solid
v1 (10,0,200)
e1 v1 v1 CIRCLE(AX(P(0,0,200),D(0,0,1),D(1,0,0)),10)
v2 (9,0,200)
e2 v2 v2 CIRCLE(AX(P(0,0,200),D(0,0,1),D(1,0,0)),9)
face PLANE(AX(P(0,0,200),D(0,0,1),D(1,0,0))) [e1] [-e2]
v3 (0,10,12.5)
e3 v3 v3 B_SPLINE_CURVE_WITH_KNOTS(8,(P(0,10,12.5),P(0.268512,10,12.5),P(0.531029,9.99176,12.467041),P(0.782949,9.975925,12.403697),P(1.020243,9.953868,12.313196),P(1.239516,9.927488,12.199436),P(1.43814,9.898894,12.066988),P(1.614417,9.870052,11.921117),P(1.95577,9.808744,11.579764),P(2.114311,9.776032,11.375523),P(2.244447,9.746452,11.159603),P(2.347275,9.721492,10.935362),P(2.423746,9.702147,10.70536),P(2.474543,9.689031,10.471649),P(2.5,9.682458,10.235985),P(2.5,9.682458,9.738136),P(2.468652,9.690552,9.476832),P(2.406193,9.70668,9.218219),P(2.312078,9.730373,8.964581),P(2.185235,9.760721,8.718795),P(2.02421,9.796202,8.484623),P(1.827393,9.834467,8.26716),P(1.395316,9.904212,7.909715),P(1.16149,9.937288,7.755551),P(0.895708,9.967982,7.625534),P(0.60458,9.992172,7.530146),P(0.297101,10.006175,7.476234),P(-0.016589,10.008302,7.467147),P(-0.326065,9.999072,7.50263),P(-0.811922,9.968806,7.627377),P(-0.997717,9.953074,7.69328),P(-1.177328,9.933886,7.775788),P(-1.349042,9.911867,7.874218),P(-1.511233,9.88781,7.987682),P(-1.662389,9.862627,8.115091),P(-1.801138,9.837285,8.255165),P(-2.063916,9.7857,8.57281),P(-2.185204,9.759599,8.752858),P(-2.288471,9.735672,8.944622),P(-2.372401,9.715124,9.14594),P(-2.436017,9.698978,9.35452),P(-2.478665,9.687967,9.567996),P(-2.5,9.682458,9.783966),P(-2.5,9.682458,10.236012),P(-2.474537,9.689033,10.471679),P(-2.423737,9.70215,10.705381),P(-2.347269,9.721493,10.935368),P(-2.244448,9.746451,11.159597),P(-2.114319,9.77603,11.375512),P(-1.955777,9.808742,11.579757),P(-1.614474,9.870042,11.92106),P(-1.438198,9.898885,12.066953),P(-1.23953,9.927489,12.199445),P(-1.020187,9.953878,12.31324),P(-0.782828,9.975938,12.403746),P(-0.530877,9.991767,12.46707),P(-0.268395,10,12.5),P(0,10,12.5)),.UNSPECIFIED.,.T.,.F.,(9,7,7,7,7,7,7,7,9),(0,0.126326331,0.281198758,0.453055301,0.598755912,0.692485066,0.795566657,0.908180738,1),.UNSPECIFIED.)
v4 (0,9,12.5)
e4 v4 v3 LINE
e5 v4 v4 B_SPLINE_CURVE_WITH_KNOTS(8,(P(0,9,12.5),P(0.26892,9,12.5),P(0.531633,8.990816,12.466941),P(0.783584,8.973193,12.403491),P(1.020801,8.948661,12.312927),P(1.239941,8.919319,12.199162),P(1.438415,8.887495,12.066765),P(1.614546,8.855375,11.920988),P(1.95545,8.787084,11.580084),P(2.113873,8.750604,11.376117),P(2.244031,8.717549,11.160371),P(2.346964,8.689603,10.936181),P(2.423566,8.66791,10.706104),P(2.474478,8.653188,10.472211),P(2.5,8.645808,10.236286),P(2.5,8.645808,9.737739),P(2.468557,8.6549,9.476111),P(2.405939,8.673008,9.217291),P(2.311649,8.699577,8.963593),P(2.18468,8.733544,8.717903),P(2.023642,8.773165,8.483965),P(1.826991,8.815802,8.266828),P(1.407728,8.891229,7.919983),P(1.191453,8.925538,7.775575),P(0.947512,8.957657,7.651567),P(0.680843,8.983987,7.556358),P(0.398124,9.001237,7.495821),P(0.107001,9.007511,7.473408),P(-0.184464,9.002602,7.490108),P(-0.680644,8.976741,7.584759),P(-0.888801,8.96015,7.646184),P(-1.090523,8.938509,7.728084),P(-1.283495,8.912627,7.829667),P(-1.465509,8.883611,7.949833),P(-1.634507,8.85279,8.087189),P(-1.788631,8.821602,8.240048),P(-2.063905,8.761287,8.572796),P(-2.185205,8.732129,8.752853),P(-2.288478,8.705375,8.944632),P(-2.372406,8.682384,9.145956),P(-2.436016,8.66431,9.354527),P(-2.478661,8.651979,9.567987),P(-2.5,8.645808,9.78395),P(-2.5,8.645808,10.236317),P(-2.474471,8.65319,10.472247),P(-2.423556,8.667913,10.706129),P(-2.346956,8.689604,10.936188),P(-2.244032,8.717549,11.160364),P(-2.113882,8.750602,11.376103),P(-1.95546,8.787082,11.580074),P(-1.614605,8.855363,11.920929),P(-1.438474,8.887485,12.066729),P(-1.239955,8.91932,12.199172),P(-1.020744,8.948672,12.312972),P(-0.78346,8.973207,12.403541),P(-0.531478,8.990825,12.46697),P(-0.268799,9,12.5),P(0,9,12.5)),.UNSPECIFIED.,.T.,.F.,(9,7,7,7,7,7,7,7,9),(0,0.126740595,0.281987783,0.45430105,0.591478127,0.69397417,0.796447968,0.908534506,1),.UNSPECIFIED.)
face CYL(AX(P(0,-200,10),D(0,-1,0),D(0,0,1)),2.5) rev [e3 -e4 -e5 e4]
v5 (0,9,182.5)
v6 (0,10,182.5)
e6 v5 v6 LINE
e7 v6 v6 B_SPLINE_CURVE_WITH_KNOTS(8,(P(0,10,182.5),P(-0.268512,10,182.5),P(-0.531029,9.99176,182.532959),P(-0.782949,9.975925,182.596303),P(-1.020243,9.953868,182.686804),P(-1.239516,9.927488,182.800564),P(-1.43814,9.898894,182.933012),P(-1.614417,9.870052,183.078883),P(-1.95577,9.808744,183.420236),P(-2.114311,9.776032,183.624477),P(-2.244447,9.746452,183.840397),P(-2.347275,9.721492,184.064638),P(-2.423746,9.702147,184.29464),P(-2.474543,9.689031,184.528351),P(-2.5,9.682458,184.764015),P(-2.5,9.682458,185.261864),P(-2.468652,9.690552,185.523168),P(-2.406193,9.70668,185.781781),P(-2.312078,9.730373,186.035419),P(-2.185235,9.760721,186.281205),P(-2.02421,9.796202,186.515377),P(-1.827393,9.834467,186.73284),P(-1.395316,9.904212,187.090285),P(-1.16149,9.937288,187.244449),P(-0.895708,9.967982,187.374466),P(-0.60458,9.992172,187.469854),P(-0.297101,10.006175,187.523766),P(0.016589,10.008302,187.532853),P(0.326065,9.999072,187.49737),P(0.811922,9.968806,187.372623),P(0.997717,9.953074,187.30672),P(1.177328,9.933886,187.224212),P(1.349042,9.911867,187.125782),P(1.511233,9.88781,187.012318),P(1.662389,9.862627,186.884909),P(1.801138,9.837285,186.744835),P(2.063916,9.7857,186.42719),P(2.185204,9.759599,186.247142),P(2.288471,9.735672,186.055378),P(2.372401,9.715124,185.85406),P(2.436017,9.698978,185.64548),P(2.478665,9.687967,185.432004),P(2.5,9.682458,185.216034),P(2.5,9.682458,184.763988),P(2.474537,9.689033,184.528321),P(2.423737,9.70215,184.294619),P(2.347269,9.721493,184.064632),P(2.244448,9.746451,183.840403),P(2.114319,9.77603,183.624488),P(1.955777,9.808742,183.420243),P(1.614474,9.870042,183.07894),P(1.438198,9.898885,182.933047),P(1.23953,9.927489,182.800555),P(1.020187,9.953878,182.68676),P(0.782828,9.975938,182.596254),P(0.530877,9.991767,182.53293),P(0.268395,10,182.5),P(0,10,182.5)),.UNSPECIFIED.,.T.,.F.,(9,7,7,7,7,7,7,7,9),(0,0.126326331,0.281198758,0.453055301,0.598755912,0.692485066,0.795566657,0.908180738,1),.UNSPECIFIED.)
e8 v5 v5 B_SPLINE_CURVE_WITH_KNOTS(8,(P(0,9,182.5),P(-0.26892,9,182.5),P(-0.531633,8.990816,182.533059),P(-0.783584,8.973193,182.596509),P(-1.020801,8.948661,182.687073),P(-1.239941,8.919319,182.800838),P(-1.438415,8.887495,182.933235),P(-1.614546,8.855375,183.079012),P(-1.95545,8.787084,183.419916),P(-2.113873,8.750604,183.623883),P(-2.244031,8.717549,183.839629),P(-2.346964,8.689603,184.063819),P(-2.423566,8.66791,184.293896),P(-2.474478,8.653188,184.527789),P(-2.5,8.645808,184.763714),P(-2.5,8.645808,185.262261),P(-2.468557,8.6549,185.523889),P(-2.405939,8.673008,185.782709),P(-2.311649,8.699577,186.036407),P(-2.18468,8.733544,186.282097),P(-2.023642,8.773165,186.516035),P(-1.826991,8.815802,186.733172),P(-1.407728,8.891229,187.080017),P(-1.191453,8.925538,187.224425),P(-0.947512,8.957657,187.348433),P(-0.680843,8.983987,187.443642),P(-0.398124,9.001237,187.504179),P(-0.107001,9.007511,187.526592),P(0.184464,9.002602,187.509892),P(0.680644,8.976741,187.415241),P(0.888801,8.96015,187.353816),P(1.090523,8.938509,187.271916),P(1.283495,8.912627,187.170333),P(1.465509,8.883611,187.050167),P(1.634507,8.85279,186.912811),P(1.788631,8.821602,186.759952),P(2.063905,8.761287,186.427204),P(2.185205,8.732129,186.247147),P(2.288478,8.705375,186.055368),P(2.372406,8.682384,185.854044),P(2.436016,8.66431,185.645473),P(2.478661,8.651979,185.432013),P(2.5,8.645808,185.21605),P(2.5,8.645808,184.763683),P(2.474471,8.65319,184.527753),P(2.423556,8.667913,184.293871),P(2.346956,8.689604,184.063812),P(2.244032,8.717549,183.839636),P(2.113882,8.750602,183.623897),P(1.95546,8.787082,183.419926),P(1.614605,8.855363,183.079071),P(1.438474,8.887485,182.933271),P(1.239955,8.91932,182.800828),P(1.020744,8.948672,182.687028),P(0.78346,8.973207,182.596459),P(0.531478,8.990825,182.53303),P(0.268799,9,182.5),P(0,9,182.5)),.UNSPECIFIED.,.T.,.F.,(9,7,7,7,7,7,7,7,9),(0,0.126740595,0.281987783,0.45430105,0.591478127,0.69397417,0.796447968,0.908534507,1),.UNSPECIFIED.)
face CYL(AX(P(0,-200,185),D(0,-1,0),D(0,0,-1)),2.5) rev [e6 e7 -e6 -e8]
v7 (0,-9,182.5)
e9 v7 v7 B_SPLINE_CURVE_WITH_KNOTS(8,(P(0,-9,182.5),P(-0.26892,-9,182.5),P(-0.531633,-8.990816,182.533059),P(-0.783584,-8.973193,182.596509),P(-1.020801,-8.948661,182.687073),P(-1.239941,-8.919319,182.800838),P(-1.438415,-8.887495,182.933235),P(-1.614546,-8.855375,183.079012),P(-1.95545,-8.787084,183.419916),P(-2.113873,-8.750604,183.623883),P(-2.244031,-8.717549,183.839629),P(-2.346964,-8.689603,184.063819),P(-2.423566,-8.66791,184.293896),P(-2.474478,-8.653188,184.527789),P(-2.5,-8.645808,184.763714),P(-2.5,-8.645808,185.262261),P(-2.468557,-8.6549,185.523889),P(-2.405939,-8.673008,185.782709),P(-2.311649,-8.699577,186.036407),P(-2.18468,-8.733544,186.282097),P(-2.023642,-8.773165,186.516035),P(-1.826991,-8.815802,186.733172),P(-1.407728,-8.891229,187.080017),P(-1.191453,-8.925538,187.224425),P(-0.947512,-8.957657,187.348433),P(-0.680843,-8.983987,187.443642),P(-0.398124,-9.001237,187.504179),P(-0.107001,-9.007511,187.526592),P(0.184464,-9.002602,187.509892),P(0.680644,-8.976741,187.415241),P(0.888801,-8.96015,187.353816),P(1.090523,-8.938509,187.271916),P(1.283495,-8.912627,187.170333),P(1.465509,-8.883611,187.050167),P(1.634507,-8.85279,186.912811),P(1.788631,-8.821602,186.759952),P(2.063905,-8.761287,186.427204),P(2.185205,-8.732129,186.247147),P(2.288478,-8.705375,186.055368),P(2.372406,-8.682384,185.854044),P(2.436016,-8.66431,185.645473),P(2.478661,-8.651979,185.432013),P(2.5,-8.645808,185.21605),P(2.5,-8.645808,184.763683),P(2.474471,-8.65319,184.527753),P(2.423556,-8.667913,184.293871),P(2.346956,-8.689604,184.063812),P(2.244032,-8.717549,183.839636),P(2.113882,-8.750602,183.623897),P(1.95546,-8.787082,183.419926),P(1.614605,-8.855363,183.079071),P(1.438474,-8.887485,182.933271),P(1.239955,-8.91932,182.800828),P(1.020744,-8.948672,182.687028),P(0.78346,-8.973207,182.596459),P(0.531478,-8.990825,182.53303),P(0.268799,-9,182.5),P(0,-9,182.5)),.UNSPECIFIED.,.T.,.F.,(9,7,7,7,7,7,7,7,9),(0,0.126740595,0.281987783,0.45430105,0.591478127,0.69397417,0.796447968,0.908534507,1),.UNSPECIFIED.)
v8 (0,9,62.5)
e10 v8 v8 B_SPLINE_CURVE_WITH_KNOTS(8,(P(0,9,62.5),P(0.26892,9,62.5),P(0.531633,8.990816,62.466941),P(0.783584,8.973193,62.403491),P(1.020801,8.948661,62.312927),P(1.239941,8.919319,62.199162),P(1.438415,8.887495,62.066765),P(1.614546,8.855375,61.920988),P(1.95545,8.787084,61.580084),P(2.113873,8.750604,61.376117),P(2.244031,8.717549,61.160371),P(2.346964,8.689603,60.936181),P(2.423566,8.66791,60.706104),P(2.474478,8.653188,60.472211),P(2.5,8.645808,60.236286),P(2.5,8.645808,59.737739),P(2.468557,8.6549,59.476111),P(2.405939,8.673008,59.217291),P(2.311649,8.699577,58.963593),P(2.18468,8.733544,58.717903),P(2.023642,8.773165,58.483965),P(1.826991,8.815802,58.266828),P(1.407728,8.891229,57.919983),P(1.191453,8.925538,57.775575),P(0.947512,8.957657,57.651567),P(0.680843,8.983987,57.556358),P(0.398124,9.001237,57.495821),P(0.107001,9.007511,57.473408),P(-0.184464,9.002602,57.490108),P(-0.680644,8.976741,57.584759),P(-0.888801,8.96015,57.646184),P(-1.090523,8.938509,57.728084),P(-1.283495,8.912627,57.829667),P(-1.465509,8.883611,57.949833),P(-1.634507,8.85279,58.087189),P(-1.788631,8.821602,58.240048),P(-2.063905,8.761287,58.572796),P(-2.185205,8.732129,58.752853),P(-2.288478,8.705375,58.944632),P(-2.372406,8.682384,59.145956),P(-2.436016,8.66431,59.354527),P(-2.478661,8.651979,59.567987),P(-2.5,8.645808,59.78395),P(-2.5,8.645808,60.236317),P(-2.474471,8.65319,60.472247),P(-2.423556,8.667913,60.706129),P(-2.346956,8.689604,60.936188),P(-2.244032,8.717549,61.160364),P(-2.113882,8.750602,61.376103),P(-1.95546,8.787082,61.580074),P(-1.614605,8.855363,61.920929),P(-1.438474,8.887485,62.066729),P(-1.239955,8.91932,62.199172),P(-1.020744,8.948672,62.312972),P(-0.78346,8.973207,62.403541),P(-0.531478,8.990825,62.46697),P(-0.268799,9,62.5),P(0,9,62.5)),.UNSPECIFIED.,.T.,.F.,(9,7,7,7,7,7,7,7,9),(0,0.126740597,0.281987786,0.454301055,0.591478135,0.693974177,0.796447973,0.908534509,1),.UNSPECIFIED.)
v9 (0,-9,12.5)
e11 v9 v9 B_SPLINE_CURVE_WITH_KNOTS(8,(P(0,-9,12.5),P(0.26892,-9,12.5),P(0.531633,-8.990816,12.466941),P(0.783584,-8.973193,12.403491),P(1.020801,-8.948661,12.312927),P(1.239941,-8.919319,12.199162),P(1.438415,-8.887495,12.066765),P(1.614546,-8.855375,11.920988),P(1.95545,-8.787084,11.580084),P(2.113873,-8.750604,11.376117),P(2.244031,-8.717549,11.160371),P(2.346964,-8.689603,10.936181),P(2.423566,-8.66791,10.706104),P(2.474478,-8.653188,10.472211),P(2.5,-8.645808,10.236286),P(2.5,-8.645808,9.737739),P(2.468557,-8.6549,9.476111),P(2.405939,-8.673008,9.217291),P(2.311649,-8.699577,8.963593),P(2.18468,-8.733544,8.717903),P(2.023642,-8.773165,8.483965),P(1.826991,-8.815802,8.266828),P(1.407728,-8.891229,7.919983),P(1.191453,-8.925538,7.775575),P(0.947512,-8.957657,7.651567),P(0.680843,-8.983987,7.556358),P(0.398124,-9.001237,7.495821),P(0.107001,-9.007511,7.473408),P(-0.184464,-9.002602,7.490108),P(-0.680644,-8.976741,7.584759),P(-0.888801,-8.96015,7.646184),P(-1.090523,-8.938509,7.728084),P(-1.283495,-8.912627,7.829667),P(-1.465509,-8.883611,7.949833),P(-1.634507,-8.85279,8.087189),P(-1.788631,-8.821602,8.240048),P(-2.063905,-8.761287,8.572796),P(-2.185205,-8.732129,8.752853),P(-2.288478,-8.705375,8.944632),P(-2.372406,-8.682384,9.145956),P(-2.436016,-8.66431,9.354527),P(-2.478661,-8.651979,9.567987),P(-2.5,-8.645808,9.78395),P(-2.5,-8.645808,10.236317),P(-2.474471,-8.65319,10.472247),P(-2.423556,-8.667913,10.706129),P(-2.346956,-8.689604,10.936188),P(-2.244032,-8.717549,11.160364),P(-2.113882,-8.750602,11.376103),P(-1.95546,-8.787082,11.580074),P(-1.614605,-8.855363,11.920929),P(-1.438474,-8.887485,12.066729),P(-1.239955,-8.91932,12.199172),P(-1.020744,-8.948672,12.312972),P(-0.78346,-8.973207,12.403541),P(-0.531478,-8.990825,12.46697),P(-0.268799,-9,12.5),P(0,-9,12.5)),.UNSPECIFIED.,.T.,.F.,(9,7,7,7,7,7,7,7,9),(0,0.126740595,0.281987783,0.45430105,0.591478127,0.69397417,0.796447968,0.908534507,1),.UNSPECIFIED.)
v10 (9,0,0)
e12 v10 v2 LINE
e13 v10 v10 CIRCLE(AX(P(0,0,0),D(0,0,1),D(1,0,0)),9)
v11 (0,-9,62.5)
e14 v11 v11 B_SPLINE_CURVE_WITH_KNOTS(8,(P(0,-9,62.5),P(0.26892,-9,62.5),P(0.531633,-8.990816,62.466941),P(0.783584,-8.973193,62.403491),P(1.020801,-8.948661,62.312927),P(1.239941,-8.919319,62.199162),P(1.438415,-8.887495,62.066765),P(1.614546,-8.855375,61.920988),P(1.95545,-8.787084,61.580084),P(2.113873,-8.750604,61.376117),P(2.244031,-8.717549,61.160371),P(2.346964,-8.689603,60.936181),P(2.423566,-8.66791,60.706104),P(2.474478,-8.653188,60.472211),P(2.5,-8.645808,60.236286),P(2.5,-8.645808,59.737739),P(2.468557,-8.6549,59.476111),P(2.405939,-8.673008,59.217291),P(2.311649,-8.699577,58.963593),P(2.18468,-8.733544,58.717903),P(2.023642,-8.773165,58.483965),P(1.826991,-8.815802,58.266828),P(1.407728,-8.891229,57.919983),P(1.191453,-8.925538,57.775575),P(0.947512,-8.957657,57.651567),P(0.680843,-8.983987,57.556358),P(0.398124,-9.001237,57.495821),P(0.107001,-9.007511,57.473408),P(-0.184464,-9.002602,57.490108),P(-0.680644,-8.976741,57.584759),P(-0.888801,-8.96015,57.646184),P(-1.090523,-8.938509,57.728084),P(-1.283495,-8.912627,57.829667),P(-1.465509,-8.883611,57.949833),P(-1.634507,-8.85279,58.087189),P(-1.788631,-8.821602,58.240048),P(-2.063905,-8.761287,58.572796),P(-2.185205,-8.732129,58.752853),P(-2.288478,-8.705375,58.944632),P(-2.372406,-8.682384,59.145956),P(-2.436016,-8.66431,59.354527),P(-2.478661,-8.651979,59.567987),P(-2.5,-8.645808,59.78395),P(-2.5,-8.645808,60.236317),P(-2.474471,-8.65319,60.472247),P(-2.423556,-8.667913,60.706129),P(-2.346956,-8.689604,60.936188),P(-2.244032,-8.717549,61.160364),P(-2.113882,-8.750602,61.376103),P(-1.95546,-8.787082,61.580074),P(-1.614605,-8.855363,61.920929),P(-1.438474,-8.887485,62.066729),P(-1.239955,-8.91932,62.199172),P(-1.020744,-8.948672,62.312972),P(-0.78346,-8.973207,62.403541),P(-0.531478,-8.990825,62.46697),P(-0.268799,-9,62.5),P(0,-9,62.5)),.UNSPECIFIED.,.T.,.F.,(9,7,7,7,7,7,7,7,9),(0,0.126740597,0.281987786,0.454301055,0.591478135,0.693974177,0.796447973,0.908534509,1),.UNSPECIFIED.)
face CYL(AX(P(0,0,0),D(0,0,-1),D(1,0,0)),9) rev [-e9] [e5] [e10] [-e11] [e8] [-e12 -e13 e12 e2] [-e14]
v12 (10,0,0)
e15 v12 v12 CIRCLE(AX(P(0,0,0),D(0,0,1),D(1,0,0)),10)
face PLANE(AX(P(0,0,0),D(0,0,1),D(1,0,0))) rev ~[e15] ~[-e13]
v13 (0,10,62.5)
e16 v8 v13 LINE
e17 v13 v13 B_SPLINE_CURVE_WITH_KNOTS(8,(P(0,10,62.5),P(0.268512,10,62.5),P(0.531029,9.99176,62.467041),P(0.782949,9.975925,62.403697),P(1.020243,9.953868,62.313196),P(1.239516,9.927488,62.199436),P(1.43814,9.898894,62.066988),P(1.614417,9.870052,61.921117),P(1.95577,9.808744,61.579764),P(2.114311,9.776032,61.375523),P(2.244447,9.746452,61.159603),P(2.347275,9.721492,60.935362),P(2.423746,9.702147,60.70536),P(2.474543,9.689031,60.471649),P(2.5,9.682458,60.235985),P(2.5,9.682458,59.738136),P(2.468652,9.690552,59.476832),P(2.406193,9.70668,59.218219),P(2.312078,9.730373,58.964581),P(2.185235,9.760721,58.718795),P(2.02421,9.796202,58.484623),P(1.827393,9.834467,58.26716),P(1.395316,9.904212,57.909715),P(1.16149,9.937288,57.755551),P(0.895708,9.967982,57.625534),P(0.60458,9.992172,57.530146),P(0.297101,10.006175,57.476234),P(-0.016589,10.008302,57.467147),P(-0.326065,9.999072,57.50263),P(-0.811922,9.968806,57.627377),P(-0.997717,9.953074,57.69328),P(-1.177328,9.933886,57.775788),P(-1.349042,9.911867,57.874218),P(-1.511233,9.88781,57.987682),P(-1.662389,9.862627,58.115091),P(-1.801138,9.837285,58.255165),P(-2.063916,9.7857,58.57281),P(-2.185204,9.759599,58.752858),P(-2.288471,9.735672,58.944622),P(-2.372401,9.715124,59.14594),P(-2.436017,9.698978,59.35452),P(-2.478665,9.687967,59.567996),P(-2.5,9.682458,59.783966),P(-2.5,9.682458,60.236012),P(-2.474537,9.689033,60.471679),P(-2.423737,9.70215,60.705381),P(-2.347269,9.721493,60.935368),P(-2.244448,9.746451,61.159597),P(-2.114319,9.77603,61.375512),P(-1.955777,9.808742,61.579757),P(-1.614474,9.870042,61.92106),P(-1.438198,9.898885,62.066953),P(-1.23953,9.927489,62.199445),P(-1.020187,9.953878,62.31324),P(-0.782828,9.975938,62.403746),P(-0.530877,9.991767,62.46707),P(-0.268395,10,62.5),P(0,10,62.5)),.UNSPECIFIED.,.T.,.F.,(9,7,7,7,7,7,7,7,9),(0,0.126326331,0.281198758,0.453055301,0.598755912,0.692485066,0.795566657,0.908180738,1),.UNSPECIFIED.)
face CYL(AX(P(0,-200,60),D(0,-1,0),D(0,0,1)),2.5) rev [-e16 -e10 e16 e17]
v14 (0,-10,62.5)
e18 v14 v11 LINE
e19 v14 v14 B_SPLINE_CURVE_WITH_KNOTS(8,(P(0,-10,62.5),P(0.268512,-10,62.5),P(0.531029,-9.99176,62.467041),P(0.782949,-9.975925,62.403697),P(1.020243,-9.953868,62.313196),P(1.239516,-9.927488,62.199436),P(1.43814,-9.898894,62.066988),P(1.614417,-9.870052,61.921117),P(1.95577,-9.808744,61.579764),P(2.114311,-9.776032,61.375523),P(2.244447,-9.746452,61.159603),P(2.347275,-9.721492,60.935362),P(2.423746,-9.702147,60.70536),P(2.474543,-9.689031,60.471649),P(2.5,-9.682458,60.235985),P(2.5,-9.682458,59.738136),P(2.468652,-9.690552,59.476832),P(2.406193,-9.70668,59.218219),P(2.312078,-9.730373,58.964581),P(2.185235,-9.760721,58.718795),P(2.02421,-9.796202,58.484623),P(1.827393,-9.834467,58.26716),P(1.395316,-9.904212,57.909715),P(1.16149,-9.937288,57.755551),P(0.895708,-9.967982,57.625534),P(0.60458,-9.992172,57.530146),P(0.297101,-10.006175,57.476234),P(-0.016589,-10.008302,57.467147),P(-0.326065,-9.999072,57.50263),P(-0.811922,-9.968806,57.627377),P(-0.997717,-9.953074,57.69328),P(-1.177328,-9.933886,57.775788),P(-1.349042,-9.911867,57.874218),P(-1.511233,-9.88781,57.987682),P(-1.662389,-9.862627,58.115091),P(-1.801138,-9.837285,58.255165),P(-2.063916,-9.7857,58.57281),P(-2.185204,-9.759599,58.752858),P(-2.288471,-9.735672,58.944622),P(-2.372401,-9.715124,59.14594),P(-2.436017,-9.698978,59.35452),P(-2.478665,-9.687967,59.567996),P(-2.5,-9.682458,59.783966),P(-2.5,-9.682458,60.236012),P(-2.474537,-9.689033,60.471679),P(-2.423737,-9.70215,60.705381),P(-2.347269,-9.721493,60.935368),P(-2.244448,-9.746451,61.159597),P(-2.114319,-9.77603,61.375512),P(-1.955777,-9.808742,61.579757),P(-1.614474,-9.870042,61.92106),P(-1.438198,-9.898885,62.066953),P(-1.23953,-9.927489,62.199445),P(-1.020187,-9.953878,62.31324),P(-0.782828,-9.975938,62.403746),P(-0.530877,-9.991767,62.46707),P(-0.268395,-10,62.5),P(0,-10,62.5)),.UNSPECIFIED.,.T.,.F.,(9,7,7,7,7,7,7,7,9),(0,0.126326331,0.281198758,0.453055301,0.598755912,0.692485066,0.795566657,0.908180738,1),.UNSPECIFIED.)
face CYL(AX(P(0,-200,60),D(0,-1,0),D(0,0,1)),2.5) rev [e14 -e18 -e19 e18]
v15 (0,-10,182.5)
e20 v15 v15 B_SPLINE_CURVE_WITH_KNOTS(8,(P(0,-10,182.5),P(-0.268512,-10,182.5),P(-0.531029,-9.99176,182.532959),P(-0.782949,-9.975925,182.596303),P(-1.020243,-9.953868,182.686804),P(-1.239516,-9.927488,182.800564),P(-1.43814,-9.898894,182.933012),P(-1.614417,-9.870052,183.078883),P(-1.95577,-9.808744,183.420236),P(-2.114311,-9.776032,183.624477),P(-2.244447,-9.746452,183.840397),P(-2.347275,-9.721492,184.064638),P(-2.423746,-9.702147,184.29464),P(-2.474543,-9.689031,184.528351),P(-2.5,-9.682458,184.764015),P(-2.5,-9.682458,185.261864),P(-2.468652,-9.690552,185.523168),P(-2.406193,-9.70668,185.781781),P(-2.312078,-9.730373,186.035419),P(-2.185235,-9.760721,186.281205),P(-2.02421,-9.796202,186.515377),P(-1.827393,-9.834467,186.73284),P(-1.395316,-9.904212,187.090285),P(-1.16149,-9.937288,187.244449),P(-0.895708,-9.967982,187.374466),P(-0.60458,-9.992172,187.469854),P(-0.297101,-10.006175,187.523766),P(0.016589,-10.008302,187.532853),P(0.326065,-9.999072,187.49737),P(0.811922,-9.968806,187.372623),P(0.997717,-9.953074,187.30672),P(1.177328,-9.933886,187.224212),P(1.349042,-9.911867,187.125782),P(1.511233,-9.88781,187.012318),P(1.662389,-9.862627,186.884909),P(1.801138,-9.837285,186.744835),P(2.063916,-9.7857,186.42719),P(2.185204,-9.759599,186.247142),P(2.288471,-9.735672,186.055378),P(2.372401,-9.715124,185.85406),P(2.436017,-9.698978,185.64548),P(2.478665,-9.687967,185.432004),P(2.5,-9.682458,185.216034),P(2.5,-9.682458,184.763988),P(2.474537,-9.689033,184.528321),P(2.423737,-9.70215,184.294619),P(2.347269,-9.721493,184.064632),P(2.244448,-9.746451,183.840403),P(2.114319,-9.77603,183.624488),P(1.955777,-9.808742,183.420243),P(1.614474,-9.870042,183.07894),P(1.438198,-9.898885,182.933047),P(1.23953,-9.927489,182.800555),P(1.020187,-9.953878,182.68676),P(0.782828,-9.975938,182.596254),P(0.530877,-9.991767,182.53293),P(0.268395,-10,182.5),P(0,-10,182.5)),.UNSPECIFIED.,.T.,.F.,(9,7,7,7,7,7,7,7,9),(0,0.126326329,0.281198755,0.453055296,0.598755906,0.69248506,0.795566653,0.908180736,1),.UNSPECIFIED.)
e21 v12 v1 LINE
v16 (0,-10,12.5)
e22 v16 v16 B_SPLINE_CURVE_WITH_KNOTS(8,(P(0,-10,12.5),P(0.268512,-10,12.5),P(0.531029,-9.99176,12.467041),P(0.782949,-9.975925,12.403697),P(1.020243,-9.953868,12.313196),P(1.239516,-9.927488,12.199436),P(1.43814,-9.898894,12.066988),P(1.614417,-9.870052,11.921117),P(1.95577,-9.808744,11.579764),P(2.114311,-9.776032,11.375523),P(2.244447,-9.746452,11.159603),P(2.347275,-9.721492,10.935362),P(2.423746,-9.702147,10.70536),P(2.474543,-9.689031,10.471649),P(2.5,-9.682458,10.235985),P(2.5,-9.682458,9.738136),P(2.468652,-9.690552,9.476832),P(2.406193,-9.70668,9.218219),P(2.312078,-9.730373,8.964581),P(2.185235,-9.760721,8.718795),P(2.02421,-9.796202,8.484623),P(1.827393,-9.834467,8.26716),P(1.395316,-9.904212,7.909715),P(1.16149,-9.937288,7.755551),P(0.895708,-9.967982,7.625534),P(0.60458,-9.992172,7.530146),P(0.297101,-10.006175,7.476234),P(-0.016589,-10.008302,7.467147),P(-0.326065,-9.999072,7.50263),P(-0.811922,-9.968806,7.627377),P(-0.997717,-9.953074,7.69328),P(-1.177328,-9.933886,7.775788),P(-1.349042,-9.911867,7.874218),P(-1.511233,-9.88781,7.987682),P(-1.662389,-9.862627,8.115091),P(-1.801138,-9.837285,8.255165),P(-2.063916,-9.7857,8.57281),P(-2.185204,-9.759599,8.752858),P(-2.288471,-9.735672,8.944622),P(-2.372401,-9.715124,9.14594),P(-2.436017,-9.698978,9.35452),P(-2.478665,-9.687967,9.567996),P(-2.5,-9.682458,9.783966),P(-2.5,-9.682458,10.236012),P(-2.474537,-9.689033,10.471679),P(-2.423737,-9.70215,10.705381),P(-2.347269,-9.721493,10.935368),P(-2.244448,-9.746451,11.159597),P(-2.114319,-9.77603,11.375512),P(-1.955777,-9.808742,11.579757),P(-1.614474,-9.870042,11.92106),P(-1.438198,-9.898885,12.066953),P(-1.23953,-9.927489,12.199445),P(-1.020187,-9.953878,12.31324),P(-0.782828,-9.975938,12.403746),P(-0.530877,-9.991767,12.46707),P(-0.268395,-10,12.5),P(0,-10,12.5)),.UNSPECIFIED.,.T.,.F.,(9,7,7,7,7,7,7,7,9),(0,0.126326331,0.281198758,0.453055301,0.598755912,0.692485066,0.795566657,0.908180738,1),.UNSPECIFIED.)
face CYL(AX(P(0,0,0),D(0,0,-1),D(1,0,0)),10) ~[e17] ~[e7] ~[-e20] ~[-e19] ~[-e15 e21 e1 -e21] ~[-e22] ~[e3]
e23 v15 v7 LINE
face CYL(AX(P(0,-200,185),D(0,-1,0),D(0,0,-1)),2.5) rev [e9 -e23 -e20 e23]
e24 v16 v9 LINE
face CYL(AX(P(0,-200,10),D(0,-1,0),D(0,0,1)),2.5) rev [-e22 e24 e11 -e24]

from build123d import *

# Parameters (mm, degrees)
IZIM1_R                     = 10
IZIM1_R_2                   = 9
Y_KSEKLIK_EKSTR_ZYON1_DEPTH = 200
KES_EKSTR_ZYON1_DEPTH       = 200
KES_EKSTR_ZYON1_DEPTH_BACK  = 200
IZIM2_R                     = 2.5
KES_EKSTR_ZYON2_DEPTH       = 200
KES_EKSTR_ZYON2_DEPTH_BACK  = 200
IZIM3_R                     = 2.5


with BuildPart() as part:
    # Çizim1 → Yükseklik-Ekstrüzyon1 (new body)
    with BuildSketch(Plane.XY):
        Circle(IZIM1_R)
        Circle(IZIM1_R_2, mode=Mode.SUBTRACT)
    extrude(amount=Y_KSEKLIK_EKSTR_ZYON1_DEPTH)

    # Çizim2 → Kes-Ekstrüzyon1 (cut, two sides: drawn at the far end of the back side and taken through both)
    with BuildSketch(Plane(origin=(0, 0, 0), x_dir=(1, 0, 0), z_dir=(0, 1, 0)).offset(-KES_EKSTR_ZYON1_DEPTH_BACK)):
        with Locations((0, -10)):
            Circle(IZIM2_R)
        with Locations((0, -60)):
            Circle(IZIM2_R)
    extrude(amount=KES_EKSTR_ZYON1_DEPTH + KES_EKSTR_ZYON1_DEPTH_BACK, mode=Mode.SUBTRACT)

    # Çizim3 → Kes-Ekstrüzyon2 (cut, two sides: drawn at the far end of the back side and taken through both)
    with BuildSketch(Plane(origin=(0, 0, 0), x_dir=(1, 0, 0), z_dir=(0, 1, 0)).offset(-KES_EKSTR_ZYON2_DEPTH_BACK)):
        with Locations((0, -185)):
            Circle(IZIM3_R)
    extrude(amount=KES_EKSTR_ZYON2_DEPTH + KES_EKSTR_ZYON2_DEPTH_BACK, mode=Mode.SUBTRACT)


solid = part.part
